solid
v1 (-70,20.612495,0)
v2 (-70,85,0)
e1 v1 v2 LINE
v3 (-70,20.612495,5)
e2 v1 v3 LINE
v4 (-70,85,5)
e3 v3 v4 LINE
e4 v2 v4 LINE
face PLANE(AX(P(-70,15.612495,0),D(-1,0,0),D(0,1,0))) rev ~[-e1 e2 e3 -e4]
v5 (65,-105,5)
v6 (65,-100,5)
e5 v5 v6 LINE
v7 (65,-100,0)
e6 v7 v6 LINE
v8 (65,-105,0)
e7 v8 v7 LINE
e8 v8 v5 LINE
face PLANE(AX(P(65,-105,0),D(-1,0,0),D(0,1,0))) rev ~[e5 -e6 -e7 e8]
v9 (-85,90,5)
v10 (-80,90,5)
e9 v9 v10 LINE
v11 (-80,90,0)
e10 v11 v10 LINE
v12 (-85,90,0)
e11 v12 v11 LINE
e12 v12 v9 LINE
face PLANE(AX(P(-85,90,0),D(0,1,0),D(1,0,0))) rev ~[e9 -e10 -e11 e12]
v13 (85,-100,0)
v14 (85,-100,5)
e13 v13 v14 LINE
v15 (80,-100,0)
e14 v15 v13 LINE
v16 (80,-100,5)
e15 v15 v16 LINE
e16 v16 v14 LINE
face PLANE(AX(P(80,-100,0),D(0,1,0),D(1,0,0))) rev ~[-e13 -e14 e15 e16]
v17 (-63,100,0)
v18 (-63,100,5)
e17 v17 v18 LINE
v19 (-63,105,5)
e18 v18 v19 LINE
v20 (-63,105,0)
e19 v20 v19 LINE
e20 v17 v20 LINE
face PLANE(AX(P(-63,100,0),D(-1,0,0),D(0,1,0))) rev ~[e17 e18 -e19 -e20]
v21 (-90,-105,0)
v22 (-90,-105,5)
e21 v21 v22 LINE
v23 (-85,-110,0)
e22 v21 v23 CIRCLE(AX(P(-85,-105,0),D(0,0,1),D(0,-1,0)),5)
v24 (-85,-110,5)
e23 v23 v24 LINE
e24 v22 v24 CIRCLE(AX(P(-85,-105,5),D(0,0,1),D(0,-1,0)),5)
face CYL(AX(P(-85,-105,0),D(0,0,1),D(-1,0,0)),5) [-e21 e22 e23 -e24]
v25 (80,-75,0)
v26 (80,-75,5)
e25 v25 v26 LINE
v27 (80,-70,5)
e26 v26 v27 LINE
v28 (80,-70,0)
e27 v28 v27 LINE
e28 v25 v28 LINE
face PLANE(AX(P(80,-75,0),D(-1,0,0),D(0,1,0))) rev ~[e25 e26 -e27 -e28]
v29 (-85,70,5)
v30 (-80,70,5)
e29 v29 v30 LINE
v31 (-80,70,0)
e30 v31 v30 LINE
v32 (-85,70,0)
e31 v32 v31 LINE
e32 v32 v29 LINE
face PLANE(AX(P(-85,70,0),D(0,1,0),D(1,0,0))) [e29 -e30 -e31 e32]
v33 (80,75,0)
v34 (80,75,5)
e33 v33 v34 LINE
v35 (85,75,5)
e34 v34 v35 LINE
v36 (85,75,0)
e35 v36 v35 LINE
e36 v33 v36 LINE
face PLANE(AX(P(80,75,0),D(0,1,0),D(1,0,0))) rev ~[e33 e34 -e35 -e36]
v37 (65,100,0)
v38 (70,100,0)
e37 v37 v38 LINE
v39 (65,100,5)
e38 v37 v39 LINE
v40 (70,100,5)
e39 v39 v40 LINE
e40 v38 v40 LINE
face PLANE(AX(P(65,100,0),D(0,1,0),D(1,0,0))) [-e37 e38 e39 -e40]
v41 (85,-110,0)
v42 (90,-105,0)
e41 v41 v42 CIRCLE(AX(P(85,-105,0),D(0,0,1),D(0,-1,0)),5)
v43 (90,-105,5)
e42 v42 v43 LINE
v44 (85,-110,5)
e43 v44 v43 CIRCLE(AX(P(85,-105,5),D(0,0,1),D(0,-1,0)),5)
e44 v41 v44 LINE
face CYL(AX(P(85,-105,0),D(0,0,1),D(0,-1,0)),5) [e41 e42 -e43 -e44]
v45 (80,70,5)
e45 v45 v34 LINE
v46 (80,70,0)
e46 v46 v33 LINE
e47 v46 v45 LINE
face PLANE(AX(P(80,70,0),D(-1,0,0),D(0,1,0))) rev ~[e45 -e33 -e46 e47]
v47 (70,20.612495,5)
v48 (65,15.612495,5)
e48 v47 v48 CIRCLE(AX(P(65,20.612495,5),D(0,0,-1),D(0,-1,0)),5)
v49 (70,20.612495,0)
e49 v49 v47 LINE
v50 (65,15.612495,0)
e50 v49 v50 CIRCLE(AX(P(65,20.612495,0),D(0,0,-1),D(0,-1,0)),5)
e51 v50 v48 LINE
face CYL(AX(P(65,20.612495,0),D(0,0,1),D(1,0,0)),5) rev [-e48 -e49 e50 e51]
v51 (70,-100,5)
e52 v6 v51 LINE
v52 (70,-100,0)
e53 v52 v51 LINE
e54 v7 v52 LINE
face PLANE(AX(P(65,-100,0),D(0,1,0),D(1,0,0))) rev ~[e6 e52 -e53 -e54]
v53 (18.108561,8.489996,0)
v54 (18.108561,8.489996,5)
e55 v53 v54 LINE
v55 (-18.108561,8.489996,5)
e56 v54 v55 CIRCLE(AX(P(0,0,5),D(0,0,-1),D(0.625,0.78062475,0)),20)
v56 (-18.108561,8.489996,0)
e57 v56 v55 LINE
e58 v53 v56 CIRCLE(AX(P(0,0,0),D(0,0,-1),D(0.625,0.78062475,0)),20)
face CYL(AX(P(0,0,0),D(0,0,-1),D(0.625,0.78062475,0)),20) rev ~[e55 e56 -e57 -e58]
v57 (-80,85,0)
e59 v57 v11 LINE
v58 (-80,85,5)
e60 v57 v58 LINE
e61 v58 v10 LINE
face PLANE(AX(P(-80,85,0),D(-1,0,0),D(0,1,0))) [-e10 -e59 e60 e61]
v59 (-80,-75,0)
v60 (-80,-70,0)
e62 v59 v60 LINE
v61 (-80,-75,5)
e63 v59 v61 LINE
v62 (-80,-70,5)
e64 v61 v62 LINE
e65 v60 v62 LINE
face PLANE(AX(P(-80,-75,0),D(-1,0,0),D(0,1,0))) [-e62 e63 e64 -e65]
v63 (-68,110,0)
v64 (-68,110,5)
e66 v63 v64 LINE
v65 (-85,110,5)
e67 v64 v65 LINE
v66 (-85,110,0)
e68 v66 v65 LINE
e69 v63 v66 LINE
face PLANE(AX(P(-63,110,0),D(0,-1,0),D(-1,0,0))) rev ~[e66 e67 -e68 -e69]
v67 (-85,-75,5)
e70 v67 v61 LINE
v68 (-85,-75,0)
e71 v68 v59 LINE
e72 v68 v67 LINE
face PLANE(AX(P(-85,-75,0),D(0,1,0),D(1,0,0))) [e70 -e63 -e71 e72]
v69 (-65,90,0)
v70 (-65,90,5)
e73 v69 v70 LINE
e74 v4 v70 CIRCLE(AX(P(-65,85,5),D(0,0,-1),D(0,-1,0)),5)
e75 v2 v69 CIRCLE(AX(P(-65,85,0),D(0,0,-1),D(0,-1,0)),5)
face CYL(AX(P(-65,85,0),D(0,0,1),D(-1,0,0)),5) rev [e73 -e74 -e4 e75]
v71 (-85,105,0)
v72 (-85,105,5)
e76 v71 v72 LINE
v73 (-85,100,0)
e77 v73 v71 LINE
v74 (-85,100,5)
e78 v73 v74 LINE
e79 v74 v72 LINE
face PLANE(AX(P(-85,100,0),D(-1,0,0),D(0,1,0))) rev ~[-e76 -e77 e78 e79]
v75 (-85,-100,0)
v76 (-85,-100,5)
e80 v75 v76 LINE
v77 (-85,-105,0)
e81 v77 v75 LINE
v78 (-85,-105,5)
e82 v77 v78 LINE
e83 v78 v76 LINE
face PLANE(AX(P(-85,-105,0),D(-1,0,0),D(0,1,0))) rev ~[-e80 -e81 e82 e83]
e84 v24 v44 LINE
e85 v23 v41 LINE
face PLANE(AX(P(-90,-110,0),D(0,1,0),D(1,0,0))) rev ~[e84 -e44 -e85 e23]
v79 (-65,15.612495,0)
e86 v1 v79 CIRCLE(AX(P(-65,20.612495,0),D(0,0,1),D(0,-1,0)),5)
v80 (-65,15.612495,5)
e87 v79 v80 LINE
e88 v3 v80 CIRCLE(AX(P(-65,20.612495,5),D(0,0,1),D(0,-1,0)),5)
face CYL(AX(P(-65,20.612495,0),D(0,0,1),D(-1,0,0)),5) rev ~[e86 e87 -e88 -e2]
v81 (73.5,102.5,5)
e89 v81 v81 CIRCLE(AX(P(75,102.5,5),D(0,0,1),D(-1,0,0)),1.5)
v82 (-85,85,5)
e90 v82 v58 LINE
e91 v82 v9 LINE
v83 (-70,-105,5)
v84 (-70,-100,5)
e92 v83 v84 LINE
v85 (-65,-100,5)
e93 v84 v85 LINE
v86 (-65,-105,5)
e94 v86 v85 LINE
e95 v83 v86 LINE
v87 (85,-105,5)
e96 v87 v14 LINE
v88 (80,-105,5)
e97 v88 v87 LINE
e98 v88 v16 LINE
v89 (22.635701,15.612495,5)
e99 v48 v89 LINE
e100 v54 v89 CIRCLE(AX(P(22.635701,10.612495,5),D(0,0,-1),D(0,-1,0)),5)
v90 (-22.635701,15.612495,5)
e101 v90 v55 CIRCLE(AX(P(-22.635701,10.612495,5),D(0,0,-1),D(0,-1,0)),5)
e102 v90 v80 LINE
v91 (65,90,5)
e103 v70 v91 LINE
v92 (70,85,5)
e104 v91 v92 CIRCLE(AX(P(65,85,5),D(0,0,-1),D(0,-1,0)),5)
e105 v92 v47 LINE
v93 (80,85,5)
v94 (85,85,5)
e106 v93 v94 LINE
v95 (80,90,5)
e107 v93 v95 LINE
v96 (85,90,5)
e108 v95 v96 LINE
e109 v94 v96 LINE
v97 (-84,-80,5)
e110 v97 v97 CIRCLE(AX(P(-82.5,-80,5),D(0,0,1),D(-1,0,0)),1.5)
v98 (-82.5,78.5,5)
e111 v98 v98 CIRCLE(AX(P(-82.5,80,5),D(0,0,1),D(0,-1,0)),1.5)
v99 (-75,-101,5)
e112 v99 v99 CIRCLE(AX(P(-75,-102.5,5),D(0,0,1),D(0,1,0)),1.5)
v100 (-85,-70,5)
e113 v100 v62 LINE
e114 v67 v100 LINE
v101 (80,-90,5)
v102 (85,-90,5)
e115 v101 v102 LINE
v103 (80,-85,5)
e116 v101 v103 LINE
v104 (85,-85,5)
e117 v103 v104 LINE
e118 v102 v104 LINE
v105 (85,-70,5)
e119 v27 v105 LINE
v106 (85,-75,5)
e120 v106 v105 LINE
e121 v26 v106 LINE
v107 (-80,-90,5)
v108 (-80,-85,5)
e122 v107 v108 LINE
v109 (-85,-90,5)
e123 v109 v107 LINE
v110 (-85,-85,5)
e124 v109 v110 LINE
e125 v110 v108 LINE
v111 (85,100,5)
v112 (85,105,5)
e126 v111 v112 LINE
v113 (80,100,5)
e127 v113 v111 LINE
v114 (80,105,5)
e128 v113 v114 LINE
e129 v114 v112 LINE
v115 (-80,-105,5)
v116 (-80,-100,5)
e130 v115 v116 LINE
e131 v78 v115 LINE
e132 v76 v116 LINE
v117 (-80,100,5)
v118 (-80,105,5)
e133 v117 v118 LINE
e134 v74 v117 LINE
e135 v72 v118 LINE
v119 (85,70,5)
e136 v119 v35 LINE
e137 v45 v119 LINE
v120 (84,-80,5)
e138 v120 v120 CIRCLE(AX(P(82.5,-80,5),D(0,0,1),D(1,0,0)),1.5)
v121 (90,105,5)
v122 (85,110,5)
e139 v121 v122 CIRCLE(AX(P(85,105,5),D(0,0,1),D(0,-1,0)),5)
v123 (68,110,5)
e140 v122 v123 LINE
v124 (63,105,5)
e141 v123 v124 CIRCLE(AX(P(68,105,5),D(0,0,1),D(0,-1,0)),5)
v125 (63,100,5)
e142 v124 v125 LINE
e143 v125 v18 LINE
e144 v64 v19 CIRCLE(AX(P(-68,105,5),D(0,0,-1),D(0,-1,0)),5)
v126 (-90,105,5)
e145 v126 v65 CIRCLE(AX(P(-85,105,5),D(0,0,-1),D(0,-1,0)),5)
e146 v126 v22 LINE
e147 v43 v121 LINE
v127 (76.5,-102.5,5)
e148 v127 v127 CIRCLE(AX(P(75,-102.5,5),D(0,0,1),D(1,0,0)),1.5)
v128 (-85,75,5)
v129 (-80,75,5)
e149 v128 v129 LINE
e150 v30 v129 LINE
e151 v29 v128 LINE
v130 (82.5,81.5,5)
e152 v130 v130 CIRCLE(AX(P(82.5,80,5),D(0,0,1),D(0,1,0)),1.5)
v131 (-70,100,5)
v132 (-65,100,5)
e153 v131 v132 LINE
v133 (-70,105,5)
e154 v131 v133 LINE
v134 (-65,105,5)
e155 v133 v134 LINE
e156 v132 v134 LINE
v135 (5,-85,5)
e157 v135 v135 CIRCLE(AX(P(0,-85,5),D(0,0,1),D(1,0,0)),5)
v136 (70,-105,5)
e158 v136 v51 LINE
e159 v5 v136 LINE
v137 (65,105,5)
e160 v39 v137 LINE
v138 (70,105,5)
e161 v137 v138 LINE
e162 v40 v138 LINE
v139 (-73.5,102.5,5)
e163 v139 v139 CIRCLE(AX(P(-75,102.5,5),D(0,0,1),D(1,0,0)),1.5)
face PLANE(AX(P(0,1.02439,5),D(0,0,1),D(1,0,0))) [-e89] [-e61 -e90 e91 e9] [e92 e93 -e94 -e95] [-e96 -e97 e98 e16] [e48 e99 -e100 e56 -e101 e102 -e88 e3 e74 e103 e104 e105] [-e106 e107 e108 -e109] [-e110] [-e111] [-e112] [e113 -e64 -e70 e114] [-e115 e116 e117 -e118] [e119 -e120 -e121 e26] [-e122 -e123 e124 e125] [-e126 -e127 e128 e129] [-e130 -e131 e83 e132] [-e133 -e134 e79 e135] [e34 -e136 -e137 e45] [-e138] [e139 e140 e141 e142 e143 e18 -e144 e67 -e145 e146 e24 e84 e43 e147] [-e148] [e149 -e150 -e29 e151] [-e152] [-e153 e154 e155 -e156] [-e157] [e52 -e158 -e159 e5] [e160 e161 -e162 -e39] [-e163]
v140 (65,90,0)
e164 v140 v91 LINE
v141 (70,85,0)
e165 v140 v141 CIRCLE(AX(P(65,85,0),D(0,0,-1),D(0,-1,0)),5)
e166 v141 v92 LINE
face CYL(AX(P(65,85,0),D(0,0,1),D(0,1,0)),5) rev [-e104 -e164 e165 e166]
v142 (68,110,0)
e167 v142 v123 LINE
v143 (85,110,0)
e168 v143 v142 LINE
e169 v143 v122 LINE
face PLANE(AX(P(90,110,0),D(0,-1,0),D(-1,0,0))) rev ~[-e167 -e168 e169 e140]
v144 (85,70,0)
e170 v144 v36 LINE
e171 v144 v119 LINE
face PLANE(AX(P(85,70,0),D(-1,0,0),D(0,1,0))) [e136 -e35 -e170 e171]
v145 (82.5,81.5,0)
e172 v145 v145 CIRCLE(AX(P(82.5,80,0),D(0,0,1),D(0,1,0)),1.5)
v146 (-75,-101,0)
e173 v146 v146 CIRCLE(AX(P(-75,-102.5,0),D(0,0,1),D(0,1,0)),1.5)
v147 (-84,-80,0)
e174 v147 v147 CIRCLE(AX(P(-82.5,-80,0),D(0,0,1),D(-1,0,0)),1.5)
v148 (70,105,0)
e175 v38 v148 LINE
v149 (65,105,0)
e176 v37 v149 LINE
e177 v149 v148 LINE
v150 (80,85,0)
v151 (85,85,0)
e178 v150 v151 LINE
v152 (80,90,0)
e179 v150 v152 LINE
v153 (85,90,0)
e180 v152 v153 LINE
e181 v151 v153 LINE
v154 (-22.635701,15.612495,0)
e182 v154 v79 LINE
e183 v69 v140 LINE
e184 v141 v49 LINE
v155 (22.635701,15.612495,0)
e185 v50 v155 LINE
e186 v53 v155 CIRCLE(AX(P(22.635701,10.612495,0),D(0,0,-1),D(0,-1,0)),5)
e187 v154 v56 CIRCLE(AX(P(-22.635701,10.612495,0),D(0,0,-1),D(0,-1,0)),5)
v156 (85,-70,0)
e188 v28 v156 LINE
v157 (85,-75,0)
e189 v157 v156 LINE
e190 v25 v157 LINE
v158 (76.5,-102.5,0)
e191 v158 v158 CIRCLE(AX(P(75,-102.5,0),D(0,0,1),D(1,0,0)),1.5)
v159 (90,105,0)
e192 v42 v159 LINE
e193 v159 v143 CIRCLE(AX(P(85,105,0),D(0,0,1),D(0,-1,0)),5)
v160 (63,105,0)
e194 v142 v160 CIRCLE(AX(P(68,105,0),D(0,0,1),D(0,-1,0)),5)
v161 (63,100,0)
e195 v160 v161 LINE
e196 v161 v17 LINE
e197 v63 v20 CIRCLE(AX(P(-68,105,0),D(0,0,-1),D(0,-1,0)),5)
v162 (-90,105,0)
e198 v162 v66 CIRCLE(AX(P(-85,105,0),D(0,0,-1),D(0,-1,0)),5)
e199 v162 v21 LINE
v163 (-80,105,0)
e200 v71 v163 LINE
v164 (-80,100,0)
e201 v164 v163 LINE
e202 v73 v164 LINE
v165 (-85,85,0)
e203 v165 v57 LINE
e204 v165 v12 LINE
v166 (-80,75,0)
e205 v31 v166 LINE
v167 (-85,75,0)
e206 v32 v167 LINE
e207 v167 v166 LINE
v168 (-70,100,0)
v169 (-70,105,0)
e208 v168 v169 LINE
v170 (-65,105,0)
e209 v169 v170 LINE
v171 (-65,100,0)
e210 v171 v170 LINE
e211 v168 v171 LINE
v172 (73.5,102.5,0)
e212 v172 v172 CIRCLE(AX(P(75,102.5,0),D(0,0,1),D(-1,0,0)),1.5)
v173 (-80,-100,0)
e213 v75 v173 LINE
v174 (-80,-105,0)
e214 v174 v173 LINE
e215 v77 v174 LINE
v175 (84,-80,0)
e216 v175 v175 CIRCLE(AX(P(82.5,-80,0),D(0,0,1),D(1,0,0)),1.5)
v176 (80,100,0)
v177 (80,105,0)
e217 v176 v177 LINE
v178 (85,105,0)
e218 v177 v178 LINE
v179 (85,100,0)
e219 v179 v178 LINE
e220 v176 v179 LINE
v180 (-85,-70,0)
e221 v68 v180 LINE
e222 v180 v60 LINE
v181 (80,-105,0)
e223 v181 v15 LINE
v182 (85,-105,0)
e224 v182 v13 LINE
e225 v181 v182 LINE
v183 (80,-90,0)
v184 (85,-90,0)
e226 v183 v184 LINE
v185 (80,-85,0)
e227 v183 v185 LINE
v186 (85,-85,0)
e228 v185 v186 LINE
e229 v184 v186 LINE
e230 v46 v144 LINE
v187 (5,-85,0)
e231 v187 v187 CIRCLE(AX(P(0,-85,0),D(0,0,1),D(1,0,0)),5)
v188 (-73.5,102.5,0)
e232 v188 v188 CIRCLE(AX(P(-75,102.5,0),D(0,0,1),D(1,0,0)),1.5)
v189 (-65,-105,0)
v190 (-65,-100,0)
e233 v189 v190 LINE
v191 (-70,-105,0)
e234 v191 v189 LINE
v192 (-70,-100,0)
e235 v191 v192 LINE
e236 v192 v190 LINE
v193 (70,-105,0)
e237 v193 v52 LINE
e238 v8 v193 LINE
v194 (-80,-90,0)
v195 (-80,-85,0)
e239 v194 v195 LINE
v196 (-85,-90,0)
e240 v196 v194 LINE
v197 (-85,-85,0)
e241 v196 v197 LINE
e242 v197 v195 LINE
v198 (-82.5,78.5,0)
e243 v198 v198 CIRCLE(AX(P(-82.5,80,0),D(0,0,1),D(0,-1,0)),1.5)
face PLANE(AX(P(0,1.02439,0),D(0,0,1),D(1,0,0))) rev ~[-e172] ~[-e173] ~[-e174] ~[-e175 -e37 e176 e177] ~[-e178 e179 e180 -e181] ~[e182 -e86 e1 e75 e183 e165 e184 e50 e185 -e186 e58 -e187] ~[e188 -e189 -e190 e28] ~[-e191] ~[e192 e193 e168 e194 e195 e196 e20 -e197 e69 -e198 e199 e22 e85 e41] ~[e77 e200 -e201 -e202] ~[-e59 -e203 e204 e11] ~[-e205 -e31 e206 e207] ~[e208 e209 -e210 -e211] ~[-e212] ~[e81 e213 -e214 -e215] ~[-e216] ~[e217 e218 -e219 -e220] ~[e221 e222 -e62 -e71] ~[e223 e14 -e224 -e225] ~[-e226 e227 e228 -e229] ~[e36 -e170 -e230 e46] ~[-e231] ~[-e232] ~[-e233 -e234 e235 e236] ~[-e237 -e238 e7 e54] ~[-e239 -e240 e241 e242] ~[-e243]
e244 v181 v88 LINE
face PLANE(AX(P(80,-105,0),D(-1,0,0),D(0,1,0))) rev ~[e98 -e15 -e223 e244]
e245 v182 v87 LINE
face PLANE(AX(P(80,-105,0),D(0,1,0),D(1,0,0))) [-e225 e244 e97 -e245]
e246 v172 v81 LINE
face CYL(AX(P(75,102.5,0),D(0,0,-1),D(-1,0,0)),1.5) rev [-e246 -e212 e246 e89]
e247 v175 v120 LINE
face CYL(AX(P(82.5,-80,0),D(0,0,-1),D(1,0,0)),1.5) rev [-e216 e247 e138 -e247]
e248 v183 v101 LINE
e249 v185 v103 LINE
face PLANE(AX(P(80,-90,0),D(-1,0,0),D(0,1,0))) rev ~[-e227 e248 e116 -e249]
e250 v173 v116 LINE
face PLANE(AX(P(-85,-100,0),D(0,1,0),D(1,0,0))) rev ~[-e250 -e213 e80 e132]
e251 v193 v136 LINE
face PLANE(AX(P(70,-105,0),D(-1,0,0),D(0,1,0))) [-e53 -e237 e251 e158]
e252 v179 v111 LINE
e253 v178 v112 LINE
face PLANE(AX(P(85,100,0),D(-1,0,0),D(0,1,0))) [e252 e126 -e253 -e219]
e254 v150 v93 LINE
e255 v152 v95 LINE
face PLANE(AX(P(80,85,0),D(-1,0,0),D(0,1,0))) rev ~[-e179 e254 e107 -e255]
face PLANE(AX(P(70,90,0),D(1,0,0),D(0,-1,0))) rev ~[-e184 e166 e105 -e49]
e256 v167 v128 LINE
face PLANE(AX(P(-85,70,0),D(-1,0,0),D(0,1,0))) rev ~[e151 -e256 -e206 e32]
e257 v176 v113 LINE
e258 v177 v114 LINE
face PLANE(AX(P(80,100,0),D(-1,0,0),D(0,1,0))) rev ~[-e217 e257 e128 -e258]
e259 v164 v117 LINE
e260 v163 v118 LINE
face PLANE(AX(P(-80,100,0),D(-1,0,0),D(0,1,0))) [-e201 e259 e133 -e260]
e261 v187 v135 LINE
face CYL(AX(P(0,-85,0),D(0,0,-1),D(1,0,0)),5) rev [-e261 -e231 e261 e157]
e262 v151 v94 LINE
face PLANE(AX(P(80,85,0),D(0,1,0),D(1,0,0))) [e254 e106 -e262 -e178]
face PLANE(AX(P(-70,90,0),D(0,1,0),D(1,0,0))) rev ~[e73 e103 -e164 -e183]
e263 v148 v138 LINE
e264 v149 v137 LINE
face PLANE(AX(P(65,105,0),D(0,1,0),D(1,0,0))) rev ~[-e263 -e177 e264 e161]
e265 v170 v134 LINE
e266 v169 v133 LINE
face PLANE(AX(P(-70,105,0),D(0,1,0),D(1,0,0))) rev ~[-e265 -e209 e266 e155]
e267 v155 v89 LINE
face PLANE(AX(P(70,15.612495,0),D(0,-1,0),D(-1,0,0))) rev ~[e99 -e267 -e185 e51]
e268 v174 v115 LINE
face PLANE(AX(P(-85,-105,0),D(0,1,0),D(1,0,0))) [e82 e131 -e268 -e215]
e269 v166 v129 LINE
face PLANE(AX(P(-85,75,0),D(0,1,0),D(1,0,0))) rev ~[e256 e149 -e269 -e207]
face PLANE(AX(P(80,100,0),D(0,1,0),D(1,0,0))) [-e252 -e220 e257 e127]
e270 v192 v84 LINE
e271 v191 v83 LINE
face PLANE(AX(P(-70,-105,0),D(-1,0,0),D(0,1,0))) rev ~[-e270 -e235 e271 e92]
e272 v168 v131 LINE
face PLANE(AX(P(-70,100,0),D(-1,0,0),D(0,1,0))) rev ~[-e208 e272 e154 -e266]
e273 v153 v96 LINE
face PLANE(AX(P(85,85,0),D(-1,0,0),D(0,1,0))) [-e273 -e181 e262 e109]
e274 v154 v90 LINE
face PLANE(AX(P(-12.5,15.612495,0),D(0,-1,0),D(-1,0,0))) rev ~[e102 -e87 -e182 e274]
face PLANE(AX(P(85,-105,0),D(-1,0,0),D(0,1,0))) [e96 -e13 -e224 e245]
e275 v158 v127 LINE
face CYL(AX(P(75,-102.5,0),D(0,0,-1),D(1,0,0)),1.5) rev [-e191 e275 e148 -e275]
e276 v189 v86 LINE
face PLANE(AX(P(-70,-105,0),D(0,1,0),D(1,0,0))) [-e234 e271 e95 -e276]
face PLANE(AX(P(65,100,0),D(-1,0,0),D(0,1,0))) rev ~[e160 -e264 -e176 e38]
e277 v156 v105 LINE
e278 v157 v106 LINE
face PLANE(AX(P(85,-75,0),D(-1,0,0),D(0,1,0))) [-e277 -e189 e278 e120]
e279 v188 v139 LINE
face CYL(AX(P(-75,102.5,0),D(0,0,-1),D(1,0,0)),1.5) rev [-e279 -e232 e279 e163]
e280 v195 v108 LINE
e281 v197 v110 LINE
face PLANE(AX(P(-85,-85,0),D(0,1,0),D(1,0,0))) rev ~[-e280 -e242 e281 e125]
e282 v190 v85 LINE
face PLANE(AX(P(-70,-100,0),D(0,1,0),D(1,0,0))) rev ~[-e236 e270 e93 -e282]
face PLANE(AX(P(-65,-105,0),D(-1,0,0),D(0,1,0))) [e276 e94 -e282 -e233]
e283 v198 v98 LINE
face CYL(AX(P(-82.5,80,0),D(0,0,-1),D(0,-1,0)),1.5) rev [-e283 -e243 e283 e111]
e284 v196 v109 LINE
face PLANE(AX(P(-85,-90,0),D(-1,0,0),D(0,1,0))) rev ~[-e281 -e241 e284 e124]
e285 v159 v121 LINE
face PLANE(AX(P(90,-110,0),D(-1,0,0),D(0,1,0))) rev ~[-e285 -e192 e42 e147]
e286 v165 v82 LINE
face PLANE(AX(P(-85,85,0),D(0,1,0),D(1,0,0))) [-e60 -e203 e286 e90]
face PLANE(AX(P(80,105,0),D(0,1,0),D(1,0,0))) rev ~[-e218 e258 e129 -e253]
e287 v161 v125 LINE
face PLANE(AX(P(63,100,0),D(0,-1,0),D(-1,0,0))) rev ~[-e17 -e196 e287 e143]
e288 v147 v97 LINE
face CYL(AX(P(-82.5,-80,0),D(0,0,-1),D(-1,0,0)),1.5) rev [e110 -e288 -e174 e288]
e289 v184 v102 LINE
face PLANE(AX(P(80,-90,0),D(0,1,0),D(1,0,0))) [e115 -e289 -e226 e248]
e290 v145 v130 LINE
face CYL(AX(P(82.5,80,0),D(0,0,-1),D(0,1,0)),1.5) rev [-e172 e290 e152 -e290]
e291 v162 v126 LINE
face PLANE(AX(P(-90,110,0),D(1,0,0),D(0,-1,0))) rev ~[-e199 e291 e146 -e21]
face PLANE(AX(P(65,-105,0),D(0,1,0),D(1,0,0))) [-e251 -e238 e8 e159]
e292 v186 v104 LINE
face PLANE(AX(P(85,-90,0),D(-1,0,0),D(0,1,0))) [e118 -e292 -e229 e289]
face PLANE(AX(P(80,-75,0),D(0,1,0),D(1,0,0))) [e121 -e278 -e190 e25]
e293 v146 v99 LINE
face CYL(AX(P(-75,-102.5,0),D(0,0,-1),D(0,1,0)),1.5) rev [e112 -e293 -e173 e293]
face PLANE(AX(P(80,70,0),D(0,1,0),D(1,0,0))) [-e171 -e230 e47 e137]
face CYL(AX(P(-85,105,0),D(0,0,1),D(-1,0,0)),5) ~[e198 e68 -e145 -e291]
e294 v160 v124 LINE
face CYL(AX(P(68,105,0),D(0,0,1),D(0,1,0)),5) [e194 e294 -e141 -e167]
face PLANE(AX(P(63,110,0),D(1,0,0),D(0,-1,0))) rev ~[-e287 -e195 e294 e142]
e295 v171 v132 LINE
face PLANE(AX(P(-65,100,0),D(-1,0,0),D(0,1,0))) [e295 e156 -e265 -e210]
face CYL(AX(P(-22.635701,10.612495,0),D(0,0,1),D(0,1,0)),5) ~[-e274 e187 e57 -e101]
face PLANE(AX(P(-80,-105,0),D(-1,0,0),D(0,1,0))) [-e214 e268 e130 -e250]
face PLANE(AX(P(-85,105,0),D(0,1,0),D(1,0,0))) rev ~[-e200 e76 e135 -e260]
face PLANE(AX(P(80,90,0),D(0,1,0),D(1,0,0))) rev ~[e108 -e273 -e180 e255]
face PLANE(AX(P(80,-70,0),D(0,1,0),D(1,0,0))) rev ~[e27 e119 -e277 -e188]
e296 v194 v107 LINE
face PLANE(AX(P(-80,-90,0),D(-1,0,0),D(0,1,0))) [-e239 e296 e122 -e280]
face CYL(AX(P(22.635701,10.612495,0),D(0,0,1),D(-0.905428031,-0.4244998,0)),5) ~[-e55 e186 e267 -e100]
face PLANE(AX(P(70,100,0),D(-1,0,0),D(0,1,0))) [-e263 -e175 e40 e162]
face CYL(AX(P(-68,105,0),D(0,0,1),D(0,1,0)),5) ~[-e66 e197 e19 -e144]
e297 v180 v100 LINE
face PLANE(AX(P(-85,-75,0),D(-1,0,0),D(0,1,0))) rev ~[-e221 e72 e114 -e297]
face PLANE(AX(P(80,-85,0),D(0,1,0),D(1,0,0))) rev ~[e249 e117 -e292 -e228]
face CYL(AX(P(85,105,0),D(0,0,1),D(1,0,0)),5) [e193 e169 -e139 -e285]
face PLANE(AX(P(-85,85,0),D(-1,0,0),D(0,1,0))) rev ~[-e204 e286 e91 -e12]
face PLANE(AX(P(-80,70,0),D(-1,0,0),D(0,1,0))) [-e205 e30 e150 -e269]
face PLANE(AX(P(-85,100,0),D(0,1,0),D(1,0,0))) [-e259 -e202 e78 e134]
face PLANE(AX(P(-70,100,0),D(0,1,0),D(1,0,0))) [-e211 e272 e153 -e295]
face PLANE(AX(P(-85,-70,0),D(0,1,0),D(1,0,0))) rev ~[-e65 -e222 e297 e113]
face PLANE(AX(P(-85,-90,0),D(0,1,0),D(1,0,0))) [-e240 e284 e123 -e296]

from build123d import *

# Parameters (mm, degrees)
SKETCH1_R           = 5
SKETCH1_R_2         = 1.5
SKETCH1_W           = 5
SKETCH1_H           = 5
BOSS_EXTRUDE1_DEPTH = 5
FILLET1_R           = 5


with BuildPart() as part:
    # Sketch1 → Boss-Extrude1 (new body)
    with BuildSketch(Plane.XY):
        Polygon((-90, 110), (-90, -110), (90, -110), (90, 110), (63, 110), (63, 100), (-63, 100), (-63, 110), align=None)
        with Locations((0, -85)):
            Circle(SKETCH1_R, mode=Mode.SUBTRACT)
        with Locations((-75, 102.5)):
            Circle(SKETCH1_R_2, mode=Mode.SUBTRACT)
        with Locations(Location((-75, -102.5, 0), (0, 0, 90))):
            Circle(SKETCH1_R_2, mode=Mode.SUBTRACT)
        with Locations((75, -102.5)):
            Circle(SKETCH1_R_2, mode=Mode.SUBTRACT)
        with Locations(Location((75, 102.5, 0), (0, 0, 180))):
            Circle(SKETCH1_R_2, mode=Mode.SUBTRACT)
        with Locations(Location((82.5, 80, 0), (0, 0, 90))):
            Circle(SKETCH1_R_2, mode=Mode.SUBTRACT)
        with Locations((82.5, -80)):
            Circle(SKETCH1_R_2, mode=Mode.SUBTRACT)
        with Locations(Location((-82.5, 80, 0), (0, 0, 270))):
            Circle(SKETCH1_R_2, mode=Mode.SUBTRACT)
        with Locations(Location((-82.5, -80, 0), (0, 0, 180))):
            Circle(SKETCH1_R_2, mode=Mode.SUBTRACT)
        with BuildLine():
            Line((-70, 90), (70, 90))
            Line((70, 90), (70, 15.612494996))
            Line((70, 15.612494996), (12.5, 15.612494996))
            ThreePointArc((12.5, 15.612494996), (0, -20), (-12.5, 15.612494996))
            Line((-12.5, 15.612494996), (-70, 15.612494996))
            Line((-70, 15.612494996), (-70, 90))
        make_face(mode=Mode.SUBTRACT)
        with Locations((-82.5, 102.5)):
            Rectangle(SKETCH1_W, SKETCH1_H, mode=Mode.SUBTRACT)
        with Locations((-67.5, 102.5)):
            Rectangle(SKETCH1_W, SKETCH1_H, mode=Mode.SUBTRACT)
        with Locations((-82.5, -102.5)):
            Rectangle(SKETCH1_W, SKETCH1_H, mode=Mode.SUBTRACT)
        with Locations((-67.5, -102.5)):
            Rectangle(SKETCH1_W, SKETCH1_H, mode=Mode.SUBTRACT)
        with Locations((82.5, -102.5)):
            Rectangle(SKETCH1_W, SKETCH1_H, mode=Mode.SUBTRACT)
        with Locations((67.5, -102.5)):
            Rectangle(SKETCH1_W, SKETCH1_H, mode=Mode.SUBTRACT)
        with Locations((82.5, 102.5)):
            Rectangle(SKETCH1_W, SKETCH1_H, mode=Mode.SUBTRACT)
        with Locations((67.5, 102.5)):
            Rectangle(SKETCH1_W, SKETCH1_H, mode=Mode.SUBTRACT)
        with Locations((82.5, 87.5)):
            Rectangle(SKETCH1_W, SKETCH1_H, mode=Mode.SUBTRACT)
        with Locations((82.5, 72.5)):
            Rectangle(SKETCH1_W, SKETCH1_H, mode=Mode.SUBTRACT)
        with Locations((82.5, -87.5)):
            Rectangle(SKETCH1_W, SKETCH1_H, mode=Mode.SUBTRACT)
        with Locations((82.5, -72.5)):
            Rectangle(SKETCH1_W, SKETCH1_H, mode=Mode.SUBTRACT)
        with Locations((-82.5, 87.5)):
            Rectangle(SKETCH1_W, SKETCH1_H, mode=Mode.SUBTRACT)
        with Locations((-82.5, 72.5)):
            Rectangle(SKETCH1_W, SKETCH1_H, mode=Mode.SUBTRACT)
        with Locations((-82.5, -87.5)):
            Rectangle(SKETCH1_W, SKETCH1_H, mode=Mode.SUBTRACT)
        with Locations((-82.5, -72.5)):
            Rectangle(SKETCH1_W, SKETCH1_H, mode=Mode.SUBTRACT)
    extrude(amount=BOSS_EXTRUDE1_DEPTH)

    # Fillet1
    fillet1_edges = [part.edges().sort_by_distance(p)[0] for p in [
        (-63, 110, 2.5),
        (63, 110, 2.5),
        (90, 110, 2.5),
        (90, -110, 2.5),
        (-90, -110, 2.5),
        (-90, 110, 2.5),
        (-12.5, 15.612494996, 2.5),
        (12.5, 15.612494996, 2.5),
        (70, 15.612494996, 2.5),
        (70, 90, 2.5),
        (-70, 90, 2.5),
        (-70, 15.612494996, 2.5),
    ]]
    fillet(fillet1_edges, radius=FILLET1_R)


solid = part.part
